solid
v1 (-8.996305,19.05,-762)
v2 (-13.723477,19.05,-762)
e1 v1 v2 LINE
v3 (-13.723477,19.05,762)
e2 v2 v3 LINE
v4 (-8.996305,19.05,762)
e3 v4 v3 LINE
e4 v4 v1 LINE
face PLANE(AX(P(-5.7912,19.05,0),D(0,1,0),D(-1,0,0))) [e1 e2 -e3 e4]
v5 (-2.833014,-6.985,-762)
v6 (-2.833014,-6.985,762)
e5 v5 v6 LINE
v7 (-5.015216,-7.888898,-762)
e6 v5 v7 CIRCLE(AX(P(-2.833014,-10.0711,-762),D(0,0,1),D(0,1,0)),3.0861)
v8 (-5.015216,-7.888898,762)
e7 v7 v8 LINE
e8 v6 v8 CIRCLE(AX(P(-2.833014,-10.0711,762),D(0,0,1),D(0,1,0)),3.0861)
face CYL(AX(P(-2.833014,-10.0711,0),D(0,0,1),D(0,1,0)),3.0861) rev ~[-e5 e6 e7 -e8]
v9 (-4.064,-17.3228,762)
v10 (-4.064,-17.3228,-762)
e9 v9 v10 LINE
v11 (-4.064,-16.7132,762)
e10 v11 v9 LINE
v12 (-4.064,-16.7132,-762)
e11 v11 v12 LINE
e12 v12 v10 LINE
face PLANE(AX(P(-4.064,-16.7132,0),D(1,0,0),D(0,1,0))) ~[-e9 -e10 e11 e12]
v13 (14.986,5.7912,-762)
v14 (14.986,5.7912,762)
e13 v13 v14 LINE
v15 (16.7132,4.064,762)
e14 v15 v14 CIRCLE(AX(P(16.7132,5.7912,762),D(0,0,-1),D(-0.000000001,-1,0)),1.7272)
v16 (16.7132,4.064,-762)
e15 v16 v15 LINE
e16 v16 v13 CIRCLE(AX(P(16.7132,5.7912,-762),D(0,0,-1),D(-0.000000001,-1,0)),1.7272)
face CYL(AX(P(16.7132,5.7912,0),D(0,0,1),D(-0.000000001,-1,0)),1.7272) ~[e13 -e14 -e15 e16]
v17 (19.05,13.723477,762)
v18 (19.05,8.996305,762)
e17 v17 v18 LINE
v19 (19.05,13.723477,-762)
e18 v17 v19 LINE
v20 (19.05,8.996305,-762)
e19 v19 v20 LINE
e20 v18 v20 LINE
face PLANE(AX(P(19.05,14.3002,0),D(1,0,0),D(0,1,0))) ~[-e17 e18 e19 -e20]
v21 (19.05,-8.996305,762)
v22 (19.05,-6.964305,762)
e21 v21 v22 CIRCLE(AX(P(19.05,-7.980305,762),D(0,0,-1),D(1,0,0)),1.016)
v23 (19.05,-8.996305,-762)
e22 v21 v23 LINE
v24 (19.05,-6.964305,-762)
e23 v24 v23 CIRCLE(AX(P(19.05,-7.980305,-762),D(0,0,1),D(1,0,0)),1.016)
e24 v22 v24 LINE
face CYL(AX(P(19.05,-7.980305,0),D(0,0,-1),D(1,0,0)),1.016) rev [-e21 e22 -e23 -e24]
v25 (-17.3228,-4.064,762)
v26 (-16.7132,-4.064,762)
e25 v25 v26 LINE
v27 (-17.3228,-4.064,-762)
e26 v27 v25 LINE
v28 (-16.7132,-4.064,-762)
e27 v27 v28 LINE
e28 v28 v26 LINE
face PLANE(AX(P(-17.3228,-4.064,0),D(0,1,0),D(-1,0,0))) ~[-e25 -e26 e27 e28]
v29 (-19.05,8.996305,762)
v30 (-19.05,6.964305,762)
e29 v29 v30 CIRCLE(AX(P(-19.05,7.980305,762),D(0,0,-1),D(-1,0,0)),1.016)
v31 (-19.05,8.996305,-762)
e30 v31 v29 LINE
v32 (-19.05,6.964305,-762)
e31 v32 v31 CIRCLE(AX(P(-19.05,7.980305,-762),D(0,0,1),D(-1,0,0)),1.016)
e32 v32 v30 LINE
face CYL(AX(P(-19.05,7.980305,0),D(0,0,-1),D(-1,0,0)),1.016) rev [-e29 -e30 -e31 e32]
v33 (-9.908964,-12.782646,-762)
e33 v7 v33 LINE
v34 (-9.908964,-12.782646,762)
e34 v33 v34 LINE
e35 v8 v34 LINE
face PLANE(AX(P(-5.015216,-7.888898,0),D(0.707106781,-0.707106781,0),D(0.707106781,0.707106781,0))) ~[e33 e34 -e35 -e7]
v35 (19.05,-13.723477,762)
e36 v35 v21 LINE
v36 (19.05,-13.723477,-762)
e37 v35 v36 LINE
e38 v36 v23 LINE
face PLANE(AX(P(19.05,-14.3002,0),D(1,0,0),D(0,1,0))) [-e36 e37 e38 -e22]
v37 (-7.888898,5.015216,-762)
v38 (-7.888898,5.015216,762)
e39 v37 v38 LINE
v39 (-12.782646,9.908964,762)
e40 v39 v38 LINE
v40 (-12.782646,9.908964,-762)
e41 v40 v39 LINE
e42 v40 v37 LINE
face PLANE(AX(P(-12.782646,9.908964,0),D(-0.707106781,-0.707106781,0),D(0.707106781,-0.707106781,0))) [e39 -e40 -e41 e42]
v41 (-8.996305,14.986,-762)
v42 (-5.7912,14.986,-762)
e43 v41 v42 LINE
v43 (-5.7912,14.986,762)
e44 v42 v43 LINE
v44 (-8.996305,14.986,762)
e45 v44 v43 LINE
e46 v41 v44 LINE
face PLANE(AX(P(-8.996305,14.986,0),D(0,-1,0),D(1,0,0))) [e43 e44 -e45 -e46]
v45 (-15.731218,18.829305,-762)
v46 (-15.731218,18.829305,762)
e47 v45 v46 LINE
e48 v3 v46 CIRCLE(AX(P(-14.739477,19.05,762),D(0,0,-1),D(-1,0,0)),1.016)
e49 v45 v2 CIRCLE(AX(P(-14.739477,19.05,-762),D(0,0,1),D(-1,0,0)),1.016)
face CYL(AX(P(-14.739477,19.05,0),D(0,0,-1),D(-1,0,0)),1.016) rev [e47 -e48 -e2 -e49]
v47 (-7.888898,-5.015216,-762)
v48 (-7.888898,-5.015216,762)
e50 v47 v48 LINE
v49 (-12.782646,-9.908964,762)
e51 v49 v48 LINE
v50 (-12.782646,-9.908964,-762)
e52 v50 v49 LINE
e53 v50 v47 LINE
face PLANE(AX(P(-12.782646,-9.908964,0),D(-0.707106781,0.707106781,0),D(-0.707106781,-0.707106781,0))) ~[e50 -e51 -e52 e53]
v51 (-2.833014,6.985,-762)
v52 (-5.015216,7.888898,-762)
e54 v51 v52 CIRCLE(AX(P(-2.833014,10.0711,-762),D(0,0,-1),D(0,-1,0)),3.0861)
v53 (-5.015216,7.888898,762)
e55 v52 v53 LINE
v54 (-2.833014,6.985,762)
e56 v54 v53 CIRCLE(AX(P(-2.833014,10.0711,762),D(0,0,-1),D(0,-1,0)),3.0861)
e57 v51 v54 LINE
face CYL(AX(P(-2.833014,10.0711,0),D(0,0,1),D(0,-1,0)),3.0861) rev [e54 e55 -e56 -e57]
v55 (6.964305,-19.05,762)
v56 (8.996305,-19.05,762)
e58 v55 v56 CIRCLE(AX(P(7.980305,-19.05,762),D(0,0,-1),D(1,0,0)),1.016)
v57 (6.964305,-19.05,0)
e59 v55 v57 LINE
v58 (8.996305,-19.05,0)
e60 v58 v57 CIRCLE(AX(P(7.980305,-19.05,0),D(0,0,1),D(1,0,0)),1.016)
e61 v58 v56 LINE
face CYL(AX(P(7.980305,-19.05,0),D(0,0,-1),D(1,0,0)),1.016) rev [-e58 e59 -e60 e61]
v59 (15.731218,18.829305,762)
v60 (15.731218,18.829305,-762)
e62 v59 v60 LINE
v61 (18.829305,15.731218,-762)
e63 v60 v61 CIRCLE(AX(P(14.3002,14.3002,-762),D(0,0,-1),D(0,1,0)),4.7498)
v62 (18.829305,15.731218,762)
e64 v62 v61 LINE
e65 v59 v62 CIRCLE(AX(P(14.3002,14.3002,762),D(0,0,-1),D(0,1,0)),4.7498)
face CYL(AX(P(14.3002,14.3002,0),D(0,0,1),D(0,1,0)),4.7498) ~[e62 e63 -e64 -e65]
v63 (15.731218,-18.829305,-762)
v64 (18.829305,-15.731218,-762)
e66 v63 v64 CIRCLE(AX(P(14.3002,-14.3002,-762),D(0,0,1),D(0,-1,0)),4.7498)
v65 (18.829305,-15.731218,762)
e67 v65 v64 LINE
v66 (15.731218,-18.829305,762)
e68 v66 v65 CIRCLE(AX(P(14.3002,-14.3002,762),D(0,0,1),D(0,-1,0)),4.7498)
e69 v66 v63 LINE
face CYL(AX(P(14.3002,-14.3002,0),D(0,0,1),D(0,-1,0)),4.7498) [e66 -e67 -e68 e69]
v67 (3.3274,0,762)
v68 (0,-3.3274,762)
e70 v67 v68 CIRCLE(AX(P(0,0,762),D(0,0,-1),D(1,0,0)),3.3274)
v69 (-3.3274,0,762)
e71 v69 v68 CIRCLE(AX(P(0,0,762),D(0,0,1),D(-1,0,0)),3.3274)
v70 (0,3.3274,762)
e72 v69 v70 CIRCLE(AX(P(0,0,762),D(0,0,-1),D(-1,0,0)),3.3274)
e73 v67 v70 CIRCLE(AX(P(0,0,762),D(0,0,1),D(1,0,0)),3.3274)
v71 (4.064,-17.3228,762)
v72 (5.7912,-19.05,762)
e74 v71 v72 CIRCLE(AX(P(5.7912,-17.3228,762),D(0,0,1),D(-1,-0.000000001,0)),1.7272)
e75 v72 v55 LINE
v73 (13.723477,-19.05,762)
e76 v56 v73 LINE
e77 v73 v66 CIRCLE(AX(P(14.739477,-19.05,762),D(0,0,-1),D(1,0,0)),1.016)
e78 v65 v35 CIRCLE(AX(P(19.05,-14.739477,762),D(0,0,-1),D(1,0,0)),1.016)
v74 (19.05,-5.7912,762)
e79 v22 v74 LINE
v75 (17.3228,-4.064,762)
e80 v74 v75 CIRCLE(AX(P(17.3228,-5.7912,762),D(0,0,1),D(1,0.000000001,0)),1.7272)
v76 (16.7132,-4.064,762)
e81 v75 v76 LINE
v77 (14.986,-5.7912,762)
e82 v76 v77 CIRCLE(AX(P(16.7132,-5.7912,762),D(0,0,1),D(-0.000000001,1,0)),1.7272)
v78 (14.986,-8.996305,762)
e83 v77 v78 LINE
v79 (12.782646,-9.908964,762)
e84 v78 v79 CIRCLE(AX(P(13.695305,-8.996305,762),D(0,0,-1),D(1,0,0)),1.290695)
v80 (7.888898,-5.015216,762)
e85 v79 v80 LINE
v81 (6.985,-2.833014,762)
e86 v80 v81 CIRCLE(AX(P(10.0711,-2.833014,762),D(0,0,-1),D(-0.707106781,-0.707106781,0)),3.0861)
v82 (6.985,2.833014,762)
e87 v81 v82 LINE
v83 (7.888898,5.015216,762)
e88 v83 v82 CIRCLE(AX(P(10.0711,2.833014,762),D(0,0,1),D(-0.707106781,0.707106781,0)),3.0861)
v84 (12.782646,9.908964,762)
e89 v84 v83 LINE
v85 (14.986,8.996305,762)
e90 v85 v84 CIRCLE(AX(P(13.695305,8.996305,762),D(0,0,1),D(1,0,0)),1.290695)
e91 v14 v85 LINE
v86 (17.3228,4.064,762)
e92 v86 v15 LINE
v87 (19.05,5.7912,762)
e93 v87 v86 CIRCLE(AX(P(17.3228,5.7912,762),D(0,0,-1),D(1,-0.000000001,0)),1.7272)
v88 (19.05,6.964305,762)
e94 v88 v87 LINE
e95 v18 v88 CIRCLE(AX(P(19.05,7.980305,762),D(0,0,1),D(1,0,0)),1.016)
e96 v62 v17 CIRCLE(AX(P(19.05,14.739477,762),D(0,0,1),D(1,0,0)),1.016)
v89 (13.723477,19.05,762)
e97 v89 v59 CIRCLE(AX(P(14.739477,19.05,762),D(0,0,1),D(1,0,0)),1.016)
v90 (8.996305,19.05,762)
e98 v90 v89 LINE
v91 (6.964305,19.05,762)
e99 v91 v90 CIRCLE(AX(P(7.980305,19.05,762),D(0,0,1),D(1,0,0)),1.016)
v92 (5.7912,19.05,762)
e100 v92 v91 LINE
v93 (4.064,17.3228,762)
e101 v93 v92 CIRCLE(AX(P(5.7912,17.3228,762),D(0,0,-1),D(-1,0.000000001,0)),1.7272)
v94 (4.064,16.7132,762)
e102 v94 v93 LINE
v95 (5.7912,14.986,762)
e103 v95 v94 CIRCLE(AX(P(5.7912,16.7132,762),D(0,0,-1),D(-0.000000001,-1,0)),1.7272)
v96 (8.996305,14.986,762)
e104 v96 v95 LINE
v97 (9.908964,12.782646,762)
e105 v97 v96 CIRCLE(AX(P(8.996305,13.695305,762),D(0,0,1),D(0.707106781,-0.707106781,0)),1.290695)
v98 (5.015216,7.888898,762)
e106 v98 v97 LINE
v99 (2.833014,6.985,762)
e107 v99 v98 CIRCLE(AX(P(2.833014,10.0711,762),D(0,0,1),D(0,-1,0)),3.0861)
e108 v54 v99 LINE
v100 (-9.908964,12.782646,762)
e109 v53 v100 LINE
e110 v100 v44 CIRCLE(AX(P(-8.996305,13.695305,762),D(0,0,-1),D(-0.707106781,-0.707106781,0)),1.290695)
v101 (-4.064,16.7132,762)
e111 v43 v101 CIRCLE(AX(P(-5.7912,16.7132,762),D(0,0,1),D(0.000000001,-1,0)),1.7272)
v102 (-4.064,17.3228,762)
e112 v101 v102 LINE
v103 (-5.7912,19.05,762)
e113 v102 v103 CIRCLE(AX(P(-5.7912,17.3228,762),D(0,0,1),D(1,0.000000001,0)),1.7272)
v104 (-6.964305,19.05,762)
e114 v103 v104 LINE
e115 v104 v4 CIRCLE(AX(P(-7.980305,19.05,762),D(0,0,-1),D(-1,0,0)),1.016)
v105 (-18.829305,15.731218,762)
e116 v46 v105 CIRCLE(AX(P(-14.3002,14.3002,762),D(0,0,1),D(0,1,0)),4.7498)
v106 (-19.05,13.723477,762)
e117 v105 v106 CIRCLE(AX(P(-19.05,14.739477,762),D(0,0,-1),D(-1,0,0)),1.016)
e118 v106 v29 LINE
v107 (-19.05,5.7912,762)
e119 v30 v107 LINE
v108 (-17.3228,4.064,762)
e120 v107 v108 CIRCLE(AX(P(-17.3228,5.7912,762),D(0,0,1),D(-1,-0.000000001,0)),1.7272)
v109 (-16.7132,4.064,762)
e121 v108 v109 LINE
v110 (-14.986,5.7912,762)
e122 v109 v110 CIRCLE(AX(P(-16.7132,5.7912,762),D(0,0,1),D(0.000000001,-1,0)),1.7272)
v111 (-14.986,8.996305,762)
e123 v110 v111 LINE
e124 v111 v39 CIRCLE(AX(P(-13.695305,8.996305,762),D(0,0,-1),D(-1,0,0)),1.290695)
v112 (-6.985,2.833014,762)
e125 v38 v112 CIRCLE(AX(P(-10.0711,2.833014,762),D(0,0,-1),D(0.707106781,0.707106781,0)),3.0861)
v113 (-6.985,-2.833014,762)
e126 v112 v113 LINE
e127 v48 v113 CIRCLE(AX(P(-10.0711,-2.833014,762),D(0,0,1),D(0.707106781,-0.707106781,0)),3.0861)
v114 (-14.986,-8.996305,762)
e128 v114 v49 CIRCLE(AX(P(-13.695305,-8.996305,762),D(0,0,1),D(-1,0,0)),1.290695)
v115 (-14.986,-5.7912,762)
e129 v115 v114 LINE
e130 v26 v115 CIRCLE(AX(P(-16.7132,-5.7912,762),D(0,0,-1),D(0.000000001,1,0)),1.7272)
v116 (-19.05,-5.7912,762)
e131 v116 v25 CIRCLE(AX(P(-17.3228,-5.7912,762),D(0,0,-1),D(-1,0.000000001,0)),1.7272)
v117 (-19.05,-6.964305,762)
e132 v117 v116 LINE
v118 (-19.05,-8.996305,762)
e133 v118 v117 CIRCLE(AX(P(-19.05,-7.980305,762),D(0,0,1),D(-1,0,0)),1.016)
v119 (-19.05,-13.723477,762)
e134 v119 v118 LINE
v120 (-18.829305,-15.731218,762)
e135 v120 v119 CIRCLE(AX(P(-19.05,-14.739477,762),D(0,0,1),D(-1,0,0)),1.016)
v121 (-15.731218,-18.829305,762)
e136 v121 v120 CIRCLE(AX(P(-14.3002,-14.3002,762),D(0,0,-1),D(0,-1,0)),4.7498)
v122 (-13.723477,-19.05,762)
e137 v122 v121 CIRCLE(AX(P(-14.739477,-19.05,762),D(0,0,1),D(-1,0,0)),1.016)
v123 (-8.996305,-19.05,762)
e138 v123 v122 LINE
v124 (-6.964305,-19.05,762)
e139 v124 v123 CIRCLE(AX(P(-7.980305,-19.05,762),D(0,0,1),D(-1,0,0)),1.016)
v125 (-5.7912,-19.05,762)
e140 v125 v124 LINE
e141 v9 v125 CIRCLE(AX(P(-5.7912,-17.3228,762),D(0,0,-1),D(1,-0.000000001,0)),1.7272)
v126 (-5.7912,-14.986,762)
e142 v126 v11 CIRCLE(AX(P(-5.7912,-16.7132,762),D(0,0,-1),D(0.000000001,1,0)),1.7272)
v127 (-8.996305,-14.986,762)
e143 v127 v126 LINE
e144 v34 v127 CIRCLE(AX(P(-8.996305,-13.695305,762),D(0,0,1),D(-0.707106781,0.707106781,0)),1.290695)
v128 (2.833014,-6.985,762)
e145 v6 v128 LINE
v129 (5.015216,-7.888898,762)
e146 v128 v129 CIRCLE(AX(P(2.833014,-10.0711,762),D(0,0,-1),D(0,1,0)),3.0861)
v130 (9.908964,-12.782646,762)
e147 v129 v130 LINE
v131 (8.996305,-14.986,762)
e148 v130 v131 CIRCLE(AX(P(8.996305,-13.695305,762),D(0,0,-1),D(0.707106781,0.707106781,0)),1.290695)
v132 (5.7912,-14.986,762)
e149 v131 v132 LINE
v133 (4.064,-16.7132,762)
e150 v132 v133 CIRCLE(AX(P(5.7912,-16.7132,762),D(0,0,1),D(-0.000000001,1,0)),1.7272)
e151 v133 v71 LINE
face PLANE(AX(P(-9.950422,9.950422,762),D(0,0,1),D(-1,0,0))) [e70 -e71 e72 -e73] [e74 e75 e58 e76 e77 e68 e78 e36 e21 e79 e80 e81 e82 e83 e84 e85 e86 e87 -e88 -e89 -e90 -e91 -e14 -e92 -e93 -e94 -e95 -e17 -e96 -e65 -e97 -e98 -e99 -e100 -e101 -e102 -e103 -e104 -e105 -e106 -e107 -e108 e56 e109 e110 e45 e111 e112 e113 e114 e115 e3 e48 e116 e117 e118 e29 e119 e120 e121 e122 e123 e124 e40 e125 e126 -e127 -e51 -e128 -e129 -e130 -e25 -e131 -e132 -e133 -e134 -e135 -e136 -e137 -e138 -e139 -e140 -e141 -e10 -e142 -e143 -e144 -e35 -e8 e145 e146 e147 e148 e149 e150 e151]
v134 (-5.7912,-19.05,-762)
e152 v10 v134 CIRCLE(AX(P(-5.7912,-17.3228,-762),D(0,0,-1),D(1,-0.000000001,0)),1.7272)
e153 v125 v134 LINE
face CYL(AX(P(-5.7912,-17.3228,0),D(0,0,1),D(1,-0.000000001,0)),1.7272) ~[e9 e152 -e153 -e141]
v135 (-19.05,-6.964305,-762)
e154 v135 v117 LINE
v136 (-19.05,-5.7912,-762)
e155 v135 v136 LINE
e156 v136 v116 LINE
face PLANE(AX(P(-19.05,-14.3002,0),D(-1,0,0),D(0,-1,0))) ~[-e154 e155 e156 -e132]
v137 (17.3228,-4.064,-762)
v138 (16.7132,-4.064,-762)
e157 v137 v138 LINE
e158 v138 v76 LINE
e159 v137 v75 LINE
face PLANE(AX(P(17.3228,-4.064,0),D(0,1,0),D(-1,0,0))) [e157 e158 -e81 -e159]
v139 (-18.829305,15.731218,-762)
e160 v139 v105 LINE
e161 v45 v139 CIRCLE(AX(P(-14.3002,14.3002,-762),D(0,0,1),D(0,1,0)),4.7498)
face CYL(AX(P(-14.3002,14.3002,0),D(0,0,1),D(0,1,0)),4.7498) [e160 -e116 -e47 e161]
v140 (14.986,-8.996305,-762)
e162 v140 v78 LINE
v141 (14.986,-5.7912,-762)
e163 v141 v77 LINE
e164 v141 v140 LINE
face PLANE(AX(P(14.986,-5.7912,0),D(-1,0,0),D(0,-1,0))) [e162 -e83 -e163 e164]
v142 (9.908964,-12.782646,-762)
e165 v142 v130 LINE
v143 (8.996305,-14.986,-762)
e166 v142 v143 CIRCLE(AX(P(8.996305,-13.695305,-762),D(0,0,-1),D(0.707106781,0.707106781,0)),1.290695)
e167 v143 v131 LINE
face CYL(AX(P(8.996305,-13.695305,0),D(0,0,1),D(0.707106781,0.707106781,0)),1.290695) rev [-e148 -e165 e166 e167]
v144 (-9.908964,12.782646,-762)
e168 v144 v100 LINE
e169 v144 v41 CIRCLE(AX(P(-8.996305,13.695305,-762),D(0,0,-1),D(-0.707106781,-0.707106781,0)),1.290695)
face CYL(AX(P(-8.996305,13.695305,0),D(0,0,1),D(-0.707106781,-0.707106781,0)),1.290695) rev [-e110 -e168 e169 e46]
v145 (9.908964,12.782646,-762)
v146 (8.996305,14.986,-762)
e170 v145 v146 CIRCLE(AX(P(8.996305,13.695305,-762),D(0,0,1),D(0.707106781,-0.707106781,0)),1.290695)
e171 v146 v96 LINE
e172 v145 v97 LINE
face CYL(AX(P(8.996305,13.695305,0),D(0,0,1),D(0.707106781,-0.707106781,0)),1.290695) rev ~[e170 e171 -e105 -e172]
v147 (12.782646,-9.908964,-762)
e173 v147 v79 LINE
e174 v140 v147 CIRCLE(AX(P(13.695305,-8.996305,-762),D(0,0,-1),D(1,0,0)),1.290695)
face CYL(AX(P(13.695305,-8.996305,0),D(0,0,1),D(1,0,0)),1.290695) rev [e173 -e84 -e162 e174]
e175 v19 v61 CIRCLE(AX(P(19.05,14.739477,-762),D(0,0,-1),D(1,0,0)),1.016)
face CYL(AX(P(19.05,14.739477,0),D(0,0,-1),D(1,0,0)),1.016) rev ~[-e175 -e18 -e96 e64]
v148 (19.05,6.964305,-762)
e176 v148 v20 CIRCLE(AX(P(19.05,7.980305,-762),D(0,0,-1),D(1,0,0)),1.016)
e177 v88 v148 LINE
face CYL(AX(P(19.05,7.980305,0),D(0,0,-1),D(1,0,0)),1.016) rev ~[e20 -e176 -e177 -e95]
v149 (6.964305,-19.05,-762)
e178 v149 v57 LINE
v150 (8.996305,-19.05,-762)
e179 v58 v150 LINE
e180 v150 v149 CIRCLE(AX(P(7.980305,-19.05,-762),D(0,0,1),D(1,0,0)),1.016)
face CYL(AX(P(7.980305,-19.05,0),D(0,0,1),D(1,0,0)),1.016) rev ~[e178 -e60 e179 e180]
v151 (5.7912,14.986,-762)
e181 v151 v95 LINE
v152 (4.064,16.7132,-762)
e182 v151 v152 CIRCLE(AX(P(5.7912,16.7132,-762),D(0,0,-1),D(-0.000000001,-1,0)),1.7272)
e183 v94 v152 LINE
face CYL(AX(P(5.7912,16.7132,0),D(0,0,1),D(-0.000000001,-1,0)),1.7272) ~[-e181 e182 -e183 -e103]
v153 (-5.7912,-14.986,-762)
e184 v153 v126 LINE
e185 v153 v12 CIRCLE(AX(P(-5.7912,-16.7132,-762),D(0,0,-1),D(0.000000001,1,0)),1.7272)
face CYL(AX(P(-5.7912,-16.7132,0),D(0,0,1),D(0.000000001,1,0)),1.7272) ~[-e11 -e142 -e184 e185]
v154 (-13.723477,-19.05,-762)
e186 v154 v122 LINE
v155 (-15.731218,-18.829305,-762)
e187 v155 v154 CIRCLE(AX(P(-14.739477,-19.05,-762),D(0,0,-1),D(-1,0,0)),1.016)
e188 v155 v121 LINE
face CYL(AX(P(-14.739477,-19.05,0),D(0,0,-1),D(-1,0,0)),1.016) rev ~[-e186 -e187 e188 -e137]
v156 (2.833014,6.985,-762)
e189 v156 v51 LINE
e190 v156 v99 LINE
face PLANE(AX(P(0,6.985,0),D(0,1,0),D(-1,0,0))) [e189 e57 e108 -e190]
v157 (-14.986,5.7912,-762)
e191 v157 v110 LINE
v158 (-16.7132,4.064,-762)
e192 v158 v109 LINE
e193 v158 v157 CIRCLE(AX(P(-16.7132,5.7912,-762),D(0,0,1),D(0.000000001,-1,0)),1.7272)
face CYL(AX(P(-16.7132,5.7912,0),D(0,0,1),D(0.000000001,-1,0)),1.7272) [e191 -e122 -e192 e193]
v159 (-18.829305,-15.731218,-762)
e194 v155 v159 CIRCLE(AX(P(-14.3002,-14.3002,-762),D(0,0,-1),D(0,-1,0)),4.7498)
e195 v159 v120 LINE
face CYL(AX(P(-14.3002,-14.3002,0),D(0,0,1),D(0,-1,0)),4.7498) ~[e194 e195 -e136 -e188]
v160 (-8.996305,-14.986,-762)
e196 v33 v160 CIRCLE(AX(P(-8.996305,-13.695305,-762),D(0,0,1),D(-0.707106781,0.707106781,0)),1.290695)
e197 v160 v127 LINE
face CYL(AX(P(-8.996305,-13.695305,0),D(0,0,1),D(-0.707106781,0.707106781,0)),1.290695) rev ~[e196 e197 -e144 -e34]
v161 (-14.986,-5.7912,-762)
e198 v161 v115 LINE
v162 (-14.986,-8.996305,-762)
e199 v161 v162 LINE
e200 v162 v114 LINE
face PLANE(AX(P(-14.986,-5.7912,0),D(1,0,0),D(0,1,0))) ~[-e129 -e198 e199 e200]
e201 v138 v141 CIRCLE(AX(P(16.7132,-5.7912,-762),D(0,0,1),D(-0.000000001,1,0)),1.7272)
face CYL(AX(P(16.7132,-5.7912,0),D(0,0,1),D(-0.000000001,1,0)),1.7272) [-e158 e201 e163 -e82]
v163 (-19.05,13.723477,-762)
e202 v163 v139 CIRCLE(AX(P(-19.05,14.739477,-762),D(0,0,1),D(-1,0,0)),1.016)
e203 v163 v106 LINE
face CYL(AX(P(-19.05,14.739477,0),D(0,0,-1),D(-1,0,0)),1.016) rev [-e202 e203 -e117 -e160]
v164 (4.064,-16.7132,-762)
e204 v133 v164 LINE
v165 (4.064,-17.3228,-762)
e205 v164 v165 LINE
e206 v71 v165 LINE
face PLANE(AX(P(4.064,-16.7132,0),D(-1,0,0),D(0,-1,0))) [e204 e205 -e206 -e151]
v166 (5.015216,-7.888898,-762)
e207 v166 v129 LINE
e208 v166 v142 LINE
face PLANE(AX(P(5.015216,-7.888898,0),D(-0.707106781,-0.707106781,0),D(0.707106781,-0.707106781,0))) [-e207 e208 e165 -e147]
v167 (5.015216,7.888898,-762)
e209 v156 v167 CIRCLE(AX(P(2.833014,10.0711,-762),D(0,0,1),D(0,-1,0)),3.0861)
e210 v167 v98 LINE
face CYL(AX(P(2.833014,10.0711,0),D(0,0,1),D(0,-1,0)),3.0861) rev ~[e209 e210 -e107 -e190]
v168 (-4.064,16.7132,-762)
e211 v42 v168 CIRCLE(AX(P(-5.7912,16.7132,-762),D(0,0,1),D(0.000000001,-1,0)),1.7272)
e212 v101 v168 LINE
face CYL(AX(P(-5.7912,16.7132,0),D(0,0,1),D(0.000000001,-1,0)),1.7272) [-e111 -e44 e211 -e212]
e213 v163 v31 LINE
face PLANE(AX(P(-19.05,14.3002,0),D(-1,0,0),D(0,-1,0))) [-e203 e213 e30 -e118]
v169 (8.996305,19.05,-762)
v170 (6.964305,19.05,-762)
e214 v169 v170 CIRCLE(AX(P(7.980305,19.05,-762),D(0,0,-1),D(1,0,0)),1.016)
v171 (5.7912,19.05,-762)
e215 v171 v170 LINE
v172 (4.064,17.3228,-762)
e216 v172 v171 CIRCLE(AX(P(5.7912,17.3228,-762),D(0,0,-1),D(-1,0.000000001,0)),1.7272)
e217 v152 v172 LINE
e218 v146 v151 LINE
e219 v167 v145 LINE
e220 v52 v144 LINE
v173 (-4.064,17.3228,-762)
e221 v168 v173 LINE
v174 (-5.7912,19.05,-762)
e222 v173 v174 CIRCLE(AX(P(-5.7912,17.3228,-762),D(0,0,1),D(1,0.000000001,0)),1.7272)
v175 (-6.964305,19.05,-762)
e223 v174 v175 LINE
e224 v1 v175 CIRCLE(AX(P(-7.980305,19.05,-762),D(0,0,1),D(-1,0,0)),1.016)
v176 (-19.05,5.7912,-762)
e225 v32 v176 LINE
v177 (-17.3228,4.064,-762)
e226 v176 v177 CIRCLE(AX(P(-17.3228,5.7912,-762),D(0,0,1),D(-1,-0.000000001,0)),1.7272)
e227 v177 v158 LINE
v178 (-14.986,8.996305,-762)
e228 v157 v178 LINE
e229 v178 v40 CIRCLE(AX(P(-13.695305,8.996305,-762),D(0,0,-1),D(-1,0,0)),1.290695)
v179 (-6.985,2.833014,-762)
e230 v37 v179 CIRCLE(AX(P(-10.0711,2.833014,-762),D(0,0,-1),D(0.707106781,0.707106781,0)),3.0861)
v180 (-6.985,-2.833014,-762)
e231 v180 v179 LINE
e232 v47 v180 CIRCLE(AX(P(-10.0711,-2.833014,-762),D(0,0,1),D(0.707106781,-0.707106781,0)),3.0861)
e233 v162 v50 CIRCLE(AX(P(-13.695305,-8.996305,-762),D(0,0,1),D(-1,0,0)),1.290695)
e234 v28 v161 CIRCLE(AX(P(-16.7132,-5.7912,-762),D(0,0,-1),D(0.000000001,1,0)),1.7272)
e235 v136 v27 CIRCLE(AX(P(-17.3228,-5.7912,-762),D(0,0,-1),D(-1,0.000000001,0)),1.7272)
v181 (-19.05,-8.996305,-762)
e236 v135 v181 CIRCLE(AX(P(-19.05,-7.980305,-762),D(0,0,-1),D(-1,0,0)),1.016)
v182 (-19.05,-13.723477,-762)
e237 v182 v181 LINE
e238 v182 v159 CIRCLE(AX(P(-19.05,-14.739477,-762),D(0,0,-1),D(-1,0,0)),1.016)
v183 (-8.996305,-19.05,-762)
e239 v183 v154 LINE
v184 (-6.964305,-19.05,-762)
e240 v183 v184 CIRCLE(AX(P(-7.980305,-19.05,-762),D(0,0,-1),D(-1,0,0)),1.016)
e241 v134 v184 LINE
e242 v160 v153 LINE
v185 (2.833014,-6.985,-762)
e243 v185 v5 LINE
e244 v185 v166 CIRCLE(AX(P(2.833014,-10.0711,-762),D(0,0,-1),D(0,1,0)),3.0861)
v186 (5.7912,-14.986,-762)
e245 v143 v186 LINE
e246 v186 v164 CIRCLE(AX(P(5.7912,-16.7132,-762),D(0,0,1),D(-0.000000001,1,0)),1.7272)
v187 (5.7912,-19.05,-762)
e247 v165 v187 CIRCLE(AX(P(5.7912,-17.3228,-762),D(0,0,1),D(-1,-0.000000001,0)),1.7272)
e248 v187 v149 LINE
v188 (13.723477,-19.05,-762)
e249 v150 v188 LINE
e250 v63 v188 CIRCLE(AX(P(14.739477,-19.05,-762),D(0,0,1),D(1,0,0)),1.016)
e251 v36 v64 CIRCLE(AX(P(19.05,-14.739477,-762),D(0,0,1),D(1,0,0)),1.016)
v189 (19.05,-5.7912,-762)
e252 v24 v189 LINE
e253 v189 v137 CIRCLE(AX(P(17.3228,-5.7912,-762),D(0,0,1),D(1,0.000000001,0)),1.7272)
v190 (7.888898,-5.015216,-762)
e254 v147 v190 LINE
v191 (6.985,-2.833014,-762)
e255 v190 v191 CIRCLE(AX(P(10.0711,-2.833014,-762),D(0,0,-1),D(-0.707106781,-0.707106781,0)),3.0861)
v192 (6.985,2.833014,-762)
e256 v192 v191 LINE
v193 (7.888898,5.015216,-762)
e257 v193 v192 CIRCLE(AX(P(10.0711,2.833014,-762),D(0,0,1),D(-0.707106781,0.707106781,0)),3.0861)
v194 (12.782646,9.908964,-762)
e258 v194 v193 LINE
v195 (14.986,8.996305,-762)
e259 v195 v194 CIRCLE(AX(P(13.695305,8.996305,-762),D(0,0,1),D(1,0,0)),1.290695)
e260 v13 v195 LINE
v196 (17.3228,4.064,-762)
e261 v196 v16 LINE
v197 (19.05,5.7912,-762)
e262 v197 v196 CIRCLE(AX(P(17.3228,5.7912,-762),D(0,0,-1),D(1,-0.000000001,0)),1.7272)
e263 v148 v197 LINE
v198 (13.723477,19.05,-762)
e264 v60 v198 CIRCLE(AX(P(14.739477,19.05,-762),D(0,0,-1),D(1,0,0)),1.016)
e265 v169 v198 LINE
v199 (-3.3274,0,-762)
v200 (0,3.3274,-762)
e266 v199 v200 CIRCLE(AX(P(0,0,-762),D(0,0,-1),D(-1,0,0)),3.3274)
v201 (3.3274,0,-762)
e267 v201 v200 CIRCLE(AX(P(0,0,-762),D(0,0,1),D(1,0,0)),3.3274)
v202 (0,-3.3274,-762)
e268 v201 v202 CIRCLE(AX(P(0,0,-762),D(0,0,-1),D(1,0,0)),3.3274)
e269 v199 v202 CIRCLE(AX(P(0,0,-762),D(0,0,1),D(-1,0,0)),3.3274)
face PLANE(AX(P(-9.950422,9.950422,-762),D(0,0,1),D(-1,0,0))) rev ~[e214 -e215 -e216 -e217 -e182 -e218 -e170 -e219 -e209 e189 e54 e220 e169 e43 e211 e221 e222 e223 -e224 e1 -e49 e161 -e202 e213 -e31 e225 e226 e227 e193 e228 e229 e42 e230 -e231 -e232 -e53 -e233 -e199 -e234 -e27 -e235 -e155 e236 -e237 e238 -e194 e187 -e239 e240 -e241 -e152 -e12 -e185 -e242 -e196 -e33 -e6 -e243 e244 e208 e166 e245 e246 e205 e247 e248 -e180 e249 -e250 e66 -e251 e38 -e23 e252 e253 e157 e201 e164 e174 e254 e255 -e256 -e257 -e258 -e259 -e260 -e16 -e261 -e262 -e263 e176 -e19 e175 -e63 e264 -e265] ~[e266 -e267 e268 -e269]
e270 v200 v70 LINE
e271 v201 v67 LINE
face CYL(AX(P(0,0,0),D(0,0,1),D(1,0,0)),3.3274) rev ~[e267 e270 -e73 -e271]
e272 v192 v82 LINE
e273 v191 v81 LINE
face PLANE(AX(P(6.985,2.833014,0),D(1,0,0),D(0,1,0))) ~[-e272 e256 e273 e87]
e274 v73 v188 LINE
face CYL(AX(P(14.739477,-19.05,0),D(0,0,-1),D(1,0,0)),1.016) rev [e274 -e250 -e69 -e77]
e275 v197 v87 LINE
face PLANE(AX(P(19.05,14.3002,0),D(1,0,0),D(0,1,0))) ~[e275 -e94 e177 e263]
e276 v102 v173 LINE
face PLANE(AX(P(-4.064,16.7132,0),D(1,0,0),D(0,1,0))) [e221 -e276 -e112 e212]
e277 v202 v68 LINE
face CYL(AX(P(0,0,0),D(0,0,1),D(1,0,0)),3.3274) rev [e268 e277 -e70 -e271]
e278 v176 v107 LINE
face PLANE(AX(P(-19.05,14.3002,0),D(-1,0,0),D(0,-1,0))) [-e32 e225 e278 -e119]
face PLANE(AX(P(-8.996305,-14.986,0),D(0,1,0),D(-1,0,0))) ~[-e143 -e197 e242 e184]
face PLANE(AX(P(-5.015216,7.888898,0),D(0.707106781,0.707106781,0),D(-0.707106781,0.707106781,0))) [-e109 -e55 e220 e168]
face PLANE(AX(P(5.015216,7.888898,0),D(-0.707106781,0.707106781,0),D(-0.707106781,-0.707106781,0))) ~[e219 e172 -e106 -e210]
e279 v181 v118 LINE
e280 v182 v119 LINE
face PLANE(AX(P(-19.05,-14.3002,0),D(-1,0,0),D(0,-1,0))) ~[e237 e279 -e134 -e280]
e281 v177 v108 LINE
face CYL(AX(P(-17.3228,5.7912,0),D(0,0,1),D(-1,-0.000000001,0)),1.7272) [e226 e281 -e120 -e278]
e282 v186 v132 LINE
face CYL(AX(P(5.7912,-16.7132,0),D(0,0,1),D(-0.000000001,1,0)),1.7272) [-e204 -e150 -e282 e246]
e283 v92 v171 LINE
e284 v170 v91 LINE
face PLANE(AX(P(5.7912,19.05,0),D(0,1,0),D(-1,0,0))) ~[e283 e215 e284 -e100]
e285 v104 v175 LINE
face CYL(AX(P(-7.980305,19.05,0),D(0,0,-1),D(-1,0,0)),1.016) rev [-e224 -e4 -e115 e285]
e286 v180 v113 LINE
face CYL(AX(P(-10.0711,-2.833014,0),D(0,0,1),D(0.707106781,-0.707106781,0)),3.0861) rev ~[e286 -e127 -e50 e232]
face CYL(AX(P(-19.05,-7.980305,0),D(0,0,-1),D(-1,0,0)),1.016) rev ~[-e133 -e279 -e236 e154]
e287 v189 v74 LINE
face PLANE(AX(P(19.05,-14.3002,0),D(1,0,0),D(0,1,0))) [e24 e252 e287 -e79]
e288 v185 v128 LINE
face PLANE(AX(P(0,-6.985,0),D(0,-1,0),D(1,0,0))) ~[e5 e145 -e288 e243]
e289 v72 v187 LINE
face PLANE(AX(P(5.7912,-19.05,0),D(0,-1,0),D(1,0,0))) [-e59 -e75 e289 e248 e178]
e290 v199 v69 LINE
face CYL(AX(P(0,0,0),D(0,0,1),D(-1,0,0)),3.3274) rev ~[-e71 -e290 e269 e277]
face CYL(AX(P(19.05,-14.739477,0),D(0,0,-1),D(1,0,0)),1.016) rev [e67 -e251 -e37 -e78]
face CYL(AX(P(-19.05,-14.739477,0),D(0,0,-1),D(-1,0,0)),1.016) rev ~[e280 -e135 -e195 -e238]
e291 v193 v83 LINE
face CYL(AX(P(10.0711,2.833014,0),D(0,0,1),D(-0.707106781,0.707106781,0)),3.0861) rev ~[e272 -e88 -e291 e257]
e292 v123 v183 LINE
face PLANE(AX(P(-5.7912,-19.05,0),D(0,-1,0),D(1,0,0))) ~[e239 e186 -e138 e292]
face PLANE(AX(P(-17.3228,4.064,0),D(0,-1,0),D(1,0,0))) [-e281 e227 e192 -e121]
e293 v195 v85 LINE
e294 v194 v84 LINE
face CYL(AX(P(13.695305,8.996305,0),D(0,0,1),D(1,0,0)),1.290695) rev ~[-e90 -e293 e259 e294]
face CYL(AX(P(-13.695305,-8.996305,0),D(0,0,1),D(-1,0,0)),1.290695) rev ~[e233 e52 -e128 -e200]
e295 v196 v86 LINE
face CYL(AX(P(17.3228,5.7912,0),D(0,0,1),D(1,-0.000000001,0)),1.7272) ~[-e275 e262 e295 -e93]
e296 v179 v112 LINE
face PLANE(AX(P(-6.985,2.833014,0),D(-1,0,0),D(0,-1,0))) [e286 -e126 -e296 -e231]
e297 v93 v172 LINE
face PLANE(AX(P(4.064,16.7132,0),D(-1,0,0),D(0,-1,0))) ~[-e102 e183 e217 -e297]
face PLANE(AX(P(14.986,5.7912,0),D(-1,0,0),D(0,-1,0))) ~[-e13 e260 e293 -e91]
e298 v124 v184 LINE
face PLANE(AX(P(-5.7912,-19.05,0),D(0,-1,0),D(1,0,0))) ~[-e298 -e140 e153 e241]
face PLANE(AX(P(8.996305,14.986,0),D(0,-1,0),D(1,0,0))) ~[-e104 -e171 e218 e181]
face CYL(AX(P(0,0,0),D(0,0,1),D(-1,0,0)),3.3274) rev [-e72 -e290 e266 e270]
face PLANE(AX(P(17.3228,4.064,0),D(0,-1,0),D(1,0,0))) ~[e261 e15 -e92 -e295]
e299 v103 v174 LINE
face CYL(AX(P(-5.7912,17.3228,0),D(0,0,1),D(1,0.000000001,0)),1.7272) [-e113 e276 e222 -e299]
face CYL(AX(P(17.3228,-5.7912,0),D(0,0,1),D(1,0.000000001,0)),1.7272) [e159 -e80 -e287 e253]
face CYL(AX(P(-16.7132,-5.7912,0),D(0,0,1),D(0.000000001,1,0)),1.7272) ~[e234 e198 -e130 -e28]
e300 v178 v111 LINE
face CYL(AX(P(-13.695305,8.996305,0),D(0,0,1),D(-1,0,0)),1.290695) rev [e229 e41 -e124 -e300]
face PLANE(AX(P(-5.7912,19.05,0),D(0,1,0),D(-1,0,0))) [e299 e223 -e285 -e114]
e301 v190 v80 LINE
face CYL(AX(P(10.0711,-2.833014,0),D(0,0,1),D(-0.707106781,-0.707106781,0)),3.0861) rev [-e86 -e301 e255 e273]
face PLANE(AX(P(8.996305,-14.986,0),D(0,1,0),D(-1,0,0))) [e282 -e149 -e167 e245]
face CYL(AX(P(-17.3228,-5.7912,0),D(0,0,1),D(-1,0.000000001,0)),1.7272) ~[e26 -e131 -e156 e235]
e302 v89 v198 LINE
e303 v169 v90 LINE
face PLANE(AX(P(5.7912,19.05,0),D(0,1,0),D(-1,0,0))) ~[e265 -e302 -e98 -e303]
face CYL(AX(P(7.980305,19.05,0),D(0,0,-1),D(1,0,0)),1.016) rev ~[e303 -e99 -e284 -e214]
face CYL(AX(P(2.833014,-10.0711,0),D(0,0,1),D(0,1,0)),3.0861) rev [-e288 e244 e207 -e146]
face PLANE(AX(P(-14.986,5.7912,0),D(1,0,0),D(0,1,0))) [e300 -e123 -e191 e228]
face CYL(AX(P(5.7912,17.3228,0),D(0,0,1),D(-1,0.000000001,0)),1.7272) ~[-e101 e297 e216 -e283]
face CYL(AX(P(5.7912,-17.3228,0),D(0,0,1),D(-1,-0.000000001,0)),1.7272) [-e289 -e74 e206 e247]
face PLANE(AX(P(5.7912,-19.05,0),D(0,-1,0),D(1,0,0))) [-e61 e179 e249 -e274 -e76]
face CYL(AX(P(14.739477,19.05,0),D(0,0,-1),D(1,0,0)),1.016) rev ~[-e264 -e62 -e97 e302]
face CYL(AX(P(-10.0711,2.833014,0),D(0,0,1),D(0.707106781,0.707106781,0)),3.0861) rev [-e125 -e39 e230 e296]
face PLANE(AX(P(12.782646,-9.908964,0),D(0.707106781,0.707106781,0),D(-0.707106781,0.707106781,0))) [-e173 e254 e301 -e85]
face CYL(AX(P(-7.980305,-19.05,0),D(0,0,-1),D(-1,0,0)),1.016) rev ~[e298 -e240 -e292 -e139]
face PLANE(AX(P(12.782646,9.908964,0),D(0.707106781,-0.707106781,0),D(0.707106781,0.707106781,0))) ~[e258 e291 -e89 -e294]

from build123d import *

# Parameters (mm, degrees)
BOSS_EXTRUDE1_DEPTH     = 762
SKETCH5_R               = 1.016
CUT_EXTRUDE1_DEPTH      = 763
CUT_EXTRUDE1_DEPTH_BACK = 763


with BuildPart() as part:
    # Sketch4 → Boss-Extrude1 (new body, symmetric)
    with BuildSketch(Plane.XY):
        with BuildLine():
            Line((5.7912, -19.05), (14.3002, -19.05))
            ThreePointArc((14.3002, -19.05), (17.658815789, -17.658815789), (19.05, -14.3002))
            Line((19.05, -14.3002), (19.05, -5.7912))
            ThreePointArc((19.05, -5.7912), (18.544114832, -4.569885168), (17.3228, -4.064))
            Line((17.3228, -4.064), (16.7132, -4.064))
            ThreePointArc((16.7132, -4.064), (15.491885168, -4.569885168), (14.986, -5.7912))
            Line((14.986, -5.7912), (14.986, -8.996305235))
            ThreePointArc((14.986, -8.996305235), (14.189232738, -10.188751711), (12.782646215, -9.908964256))
            Line((12.782646215, -9.908964256), (7.888897763, -5.015215804))
            ThreePointArc((7.888897763, -5.015215804), (7.219915375, -4.014012907), (6.985, -2.833013566))
            Line((6.985, -2.833013566), (6.985, 0))
            Line((6.985, 0), (3.3274, 0))
            ThreePointArc((3.3274, 0), (2.352827104, -2.352827104), (0, -3.3274))
            Line((0, -3.3274), (0, -6.985))
            Line((0, -6.985), (2.833013566, -6.985))
            ThreePointArc((2.833013566, -6.985), (4.014012907, -7.219915375), (5.015215804, -7.888897763))
            Line((5.015215804, -7.888897763), (9.908964256, -12.782646215))
            ThreePointArc((9.908964256, -12.782646215), (10.188751711, -14.189232738), (8.996305235, -14.986))
            Line((8.996305235, -14.986), (5.7912, -14.986))
            ThreePointArc((5.7912, -14.986), (4.569885168, -15.491885168), (4.064, -16.7132))
            Line((4.064, -16.7132), (4.064, -17.3228))
            ThreePointArc((4.064, -17.3228), (4.569885168, -18.544114832), (5.7912, -19.05))
        make_face()
    extrude(amount=BOSS_EXTRUDE1_DEPTH, both=True)

    # Sketch5 → Cut-Extrude1 (cut, two sides)
    with BuildSketch(Plane.XY) as cut_extrude1_sk:
        with Locations((14.739477062, -19.05)):
            Circle(SKETCH5_R)
        with Locations((7.980305235, -19.05)):
            Circle(SKETCH5_R)
        with Locations((19.05, -14.739477062)):
            Circle(SKETCH5_R)
        with Locations((19.05, -7.980305235)):
            Circle(SKETCH5_R)
    extrude(amount=CUT_EXTRUDE1_DEPTH, mode=Mode.SUBTRACT)
    extrude(cut_extrude1_sk.sketch, amount=-CUT_EXTRUDE1_DEPTH_BACK, mode=Mode.SUBTRACT)

    # Mirror1: part across plane


with BuildPart() as part_1:
    add(part.part)
    add(part.part.mirror(Plane(origin=(0, 0, 0), x_dir=(0, 0, 1), z_dir=(1, 0, 0))))

    # Mirror2: part across plane


with BuildPart() as part_2:
    add(part_1.part)
    add(part_1.part.mirror(Plane.ZX))


solid = part_2.part
